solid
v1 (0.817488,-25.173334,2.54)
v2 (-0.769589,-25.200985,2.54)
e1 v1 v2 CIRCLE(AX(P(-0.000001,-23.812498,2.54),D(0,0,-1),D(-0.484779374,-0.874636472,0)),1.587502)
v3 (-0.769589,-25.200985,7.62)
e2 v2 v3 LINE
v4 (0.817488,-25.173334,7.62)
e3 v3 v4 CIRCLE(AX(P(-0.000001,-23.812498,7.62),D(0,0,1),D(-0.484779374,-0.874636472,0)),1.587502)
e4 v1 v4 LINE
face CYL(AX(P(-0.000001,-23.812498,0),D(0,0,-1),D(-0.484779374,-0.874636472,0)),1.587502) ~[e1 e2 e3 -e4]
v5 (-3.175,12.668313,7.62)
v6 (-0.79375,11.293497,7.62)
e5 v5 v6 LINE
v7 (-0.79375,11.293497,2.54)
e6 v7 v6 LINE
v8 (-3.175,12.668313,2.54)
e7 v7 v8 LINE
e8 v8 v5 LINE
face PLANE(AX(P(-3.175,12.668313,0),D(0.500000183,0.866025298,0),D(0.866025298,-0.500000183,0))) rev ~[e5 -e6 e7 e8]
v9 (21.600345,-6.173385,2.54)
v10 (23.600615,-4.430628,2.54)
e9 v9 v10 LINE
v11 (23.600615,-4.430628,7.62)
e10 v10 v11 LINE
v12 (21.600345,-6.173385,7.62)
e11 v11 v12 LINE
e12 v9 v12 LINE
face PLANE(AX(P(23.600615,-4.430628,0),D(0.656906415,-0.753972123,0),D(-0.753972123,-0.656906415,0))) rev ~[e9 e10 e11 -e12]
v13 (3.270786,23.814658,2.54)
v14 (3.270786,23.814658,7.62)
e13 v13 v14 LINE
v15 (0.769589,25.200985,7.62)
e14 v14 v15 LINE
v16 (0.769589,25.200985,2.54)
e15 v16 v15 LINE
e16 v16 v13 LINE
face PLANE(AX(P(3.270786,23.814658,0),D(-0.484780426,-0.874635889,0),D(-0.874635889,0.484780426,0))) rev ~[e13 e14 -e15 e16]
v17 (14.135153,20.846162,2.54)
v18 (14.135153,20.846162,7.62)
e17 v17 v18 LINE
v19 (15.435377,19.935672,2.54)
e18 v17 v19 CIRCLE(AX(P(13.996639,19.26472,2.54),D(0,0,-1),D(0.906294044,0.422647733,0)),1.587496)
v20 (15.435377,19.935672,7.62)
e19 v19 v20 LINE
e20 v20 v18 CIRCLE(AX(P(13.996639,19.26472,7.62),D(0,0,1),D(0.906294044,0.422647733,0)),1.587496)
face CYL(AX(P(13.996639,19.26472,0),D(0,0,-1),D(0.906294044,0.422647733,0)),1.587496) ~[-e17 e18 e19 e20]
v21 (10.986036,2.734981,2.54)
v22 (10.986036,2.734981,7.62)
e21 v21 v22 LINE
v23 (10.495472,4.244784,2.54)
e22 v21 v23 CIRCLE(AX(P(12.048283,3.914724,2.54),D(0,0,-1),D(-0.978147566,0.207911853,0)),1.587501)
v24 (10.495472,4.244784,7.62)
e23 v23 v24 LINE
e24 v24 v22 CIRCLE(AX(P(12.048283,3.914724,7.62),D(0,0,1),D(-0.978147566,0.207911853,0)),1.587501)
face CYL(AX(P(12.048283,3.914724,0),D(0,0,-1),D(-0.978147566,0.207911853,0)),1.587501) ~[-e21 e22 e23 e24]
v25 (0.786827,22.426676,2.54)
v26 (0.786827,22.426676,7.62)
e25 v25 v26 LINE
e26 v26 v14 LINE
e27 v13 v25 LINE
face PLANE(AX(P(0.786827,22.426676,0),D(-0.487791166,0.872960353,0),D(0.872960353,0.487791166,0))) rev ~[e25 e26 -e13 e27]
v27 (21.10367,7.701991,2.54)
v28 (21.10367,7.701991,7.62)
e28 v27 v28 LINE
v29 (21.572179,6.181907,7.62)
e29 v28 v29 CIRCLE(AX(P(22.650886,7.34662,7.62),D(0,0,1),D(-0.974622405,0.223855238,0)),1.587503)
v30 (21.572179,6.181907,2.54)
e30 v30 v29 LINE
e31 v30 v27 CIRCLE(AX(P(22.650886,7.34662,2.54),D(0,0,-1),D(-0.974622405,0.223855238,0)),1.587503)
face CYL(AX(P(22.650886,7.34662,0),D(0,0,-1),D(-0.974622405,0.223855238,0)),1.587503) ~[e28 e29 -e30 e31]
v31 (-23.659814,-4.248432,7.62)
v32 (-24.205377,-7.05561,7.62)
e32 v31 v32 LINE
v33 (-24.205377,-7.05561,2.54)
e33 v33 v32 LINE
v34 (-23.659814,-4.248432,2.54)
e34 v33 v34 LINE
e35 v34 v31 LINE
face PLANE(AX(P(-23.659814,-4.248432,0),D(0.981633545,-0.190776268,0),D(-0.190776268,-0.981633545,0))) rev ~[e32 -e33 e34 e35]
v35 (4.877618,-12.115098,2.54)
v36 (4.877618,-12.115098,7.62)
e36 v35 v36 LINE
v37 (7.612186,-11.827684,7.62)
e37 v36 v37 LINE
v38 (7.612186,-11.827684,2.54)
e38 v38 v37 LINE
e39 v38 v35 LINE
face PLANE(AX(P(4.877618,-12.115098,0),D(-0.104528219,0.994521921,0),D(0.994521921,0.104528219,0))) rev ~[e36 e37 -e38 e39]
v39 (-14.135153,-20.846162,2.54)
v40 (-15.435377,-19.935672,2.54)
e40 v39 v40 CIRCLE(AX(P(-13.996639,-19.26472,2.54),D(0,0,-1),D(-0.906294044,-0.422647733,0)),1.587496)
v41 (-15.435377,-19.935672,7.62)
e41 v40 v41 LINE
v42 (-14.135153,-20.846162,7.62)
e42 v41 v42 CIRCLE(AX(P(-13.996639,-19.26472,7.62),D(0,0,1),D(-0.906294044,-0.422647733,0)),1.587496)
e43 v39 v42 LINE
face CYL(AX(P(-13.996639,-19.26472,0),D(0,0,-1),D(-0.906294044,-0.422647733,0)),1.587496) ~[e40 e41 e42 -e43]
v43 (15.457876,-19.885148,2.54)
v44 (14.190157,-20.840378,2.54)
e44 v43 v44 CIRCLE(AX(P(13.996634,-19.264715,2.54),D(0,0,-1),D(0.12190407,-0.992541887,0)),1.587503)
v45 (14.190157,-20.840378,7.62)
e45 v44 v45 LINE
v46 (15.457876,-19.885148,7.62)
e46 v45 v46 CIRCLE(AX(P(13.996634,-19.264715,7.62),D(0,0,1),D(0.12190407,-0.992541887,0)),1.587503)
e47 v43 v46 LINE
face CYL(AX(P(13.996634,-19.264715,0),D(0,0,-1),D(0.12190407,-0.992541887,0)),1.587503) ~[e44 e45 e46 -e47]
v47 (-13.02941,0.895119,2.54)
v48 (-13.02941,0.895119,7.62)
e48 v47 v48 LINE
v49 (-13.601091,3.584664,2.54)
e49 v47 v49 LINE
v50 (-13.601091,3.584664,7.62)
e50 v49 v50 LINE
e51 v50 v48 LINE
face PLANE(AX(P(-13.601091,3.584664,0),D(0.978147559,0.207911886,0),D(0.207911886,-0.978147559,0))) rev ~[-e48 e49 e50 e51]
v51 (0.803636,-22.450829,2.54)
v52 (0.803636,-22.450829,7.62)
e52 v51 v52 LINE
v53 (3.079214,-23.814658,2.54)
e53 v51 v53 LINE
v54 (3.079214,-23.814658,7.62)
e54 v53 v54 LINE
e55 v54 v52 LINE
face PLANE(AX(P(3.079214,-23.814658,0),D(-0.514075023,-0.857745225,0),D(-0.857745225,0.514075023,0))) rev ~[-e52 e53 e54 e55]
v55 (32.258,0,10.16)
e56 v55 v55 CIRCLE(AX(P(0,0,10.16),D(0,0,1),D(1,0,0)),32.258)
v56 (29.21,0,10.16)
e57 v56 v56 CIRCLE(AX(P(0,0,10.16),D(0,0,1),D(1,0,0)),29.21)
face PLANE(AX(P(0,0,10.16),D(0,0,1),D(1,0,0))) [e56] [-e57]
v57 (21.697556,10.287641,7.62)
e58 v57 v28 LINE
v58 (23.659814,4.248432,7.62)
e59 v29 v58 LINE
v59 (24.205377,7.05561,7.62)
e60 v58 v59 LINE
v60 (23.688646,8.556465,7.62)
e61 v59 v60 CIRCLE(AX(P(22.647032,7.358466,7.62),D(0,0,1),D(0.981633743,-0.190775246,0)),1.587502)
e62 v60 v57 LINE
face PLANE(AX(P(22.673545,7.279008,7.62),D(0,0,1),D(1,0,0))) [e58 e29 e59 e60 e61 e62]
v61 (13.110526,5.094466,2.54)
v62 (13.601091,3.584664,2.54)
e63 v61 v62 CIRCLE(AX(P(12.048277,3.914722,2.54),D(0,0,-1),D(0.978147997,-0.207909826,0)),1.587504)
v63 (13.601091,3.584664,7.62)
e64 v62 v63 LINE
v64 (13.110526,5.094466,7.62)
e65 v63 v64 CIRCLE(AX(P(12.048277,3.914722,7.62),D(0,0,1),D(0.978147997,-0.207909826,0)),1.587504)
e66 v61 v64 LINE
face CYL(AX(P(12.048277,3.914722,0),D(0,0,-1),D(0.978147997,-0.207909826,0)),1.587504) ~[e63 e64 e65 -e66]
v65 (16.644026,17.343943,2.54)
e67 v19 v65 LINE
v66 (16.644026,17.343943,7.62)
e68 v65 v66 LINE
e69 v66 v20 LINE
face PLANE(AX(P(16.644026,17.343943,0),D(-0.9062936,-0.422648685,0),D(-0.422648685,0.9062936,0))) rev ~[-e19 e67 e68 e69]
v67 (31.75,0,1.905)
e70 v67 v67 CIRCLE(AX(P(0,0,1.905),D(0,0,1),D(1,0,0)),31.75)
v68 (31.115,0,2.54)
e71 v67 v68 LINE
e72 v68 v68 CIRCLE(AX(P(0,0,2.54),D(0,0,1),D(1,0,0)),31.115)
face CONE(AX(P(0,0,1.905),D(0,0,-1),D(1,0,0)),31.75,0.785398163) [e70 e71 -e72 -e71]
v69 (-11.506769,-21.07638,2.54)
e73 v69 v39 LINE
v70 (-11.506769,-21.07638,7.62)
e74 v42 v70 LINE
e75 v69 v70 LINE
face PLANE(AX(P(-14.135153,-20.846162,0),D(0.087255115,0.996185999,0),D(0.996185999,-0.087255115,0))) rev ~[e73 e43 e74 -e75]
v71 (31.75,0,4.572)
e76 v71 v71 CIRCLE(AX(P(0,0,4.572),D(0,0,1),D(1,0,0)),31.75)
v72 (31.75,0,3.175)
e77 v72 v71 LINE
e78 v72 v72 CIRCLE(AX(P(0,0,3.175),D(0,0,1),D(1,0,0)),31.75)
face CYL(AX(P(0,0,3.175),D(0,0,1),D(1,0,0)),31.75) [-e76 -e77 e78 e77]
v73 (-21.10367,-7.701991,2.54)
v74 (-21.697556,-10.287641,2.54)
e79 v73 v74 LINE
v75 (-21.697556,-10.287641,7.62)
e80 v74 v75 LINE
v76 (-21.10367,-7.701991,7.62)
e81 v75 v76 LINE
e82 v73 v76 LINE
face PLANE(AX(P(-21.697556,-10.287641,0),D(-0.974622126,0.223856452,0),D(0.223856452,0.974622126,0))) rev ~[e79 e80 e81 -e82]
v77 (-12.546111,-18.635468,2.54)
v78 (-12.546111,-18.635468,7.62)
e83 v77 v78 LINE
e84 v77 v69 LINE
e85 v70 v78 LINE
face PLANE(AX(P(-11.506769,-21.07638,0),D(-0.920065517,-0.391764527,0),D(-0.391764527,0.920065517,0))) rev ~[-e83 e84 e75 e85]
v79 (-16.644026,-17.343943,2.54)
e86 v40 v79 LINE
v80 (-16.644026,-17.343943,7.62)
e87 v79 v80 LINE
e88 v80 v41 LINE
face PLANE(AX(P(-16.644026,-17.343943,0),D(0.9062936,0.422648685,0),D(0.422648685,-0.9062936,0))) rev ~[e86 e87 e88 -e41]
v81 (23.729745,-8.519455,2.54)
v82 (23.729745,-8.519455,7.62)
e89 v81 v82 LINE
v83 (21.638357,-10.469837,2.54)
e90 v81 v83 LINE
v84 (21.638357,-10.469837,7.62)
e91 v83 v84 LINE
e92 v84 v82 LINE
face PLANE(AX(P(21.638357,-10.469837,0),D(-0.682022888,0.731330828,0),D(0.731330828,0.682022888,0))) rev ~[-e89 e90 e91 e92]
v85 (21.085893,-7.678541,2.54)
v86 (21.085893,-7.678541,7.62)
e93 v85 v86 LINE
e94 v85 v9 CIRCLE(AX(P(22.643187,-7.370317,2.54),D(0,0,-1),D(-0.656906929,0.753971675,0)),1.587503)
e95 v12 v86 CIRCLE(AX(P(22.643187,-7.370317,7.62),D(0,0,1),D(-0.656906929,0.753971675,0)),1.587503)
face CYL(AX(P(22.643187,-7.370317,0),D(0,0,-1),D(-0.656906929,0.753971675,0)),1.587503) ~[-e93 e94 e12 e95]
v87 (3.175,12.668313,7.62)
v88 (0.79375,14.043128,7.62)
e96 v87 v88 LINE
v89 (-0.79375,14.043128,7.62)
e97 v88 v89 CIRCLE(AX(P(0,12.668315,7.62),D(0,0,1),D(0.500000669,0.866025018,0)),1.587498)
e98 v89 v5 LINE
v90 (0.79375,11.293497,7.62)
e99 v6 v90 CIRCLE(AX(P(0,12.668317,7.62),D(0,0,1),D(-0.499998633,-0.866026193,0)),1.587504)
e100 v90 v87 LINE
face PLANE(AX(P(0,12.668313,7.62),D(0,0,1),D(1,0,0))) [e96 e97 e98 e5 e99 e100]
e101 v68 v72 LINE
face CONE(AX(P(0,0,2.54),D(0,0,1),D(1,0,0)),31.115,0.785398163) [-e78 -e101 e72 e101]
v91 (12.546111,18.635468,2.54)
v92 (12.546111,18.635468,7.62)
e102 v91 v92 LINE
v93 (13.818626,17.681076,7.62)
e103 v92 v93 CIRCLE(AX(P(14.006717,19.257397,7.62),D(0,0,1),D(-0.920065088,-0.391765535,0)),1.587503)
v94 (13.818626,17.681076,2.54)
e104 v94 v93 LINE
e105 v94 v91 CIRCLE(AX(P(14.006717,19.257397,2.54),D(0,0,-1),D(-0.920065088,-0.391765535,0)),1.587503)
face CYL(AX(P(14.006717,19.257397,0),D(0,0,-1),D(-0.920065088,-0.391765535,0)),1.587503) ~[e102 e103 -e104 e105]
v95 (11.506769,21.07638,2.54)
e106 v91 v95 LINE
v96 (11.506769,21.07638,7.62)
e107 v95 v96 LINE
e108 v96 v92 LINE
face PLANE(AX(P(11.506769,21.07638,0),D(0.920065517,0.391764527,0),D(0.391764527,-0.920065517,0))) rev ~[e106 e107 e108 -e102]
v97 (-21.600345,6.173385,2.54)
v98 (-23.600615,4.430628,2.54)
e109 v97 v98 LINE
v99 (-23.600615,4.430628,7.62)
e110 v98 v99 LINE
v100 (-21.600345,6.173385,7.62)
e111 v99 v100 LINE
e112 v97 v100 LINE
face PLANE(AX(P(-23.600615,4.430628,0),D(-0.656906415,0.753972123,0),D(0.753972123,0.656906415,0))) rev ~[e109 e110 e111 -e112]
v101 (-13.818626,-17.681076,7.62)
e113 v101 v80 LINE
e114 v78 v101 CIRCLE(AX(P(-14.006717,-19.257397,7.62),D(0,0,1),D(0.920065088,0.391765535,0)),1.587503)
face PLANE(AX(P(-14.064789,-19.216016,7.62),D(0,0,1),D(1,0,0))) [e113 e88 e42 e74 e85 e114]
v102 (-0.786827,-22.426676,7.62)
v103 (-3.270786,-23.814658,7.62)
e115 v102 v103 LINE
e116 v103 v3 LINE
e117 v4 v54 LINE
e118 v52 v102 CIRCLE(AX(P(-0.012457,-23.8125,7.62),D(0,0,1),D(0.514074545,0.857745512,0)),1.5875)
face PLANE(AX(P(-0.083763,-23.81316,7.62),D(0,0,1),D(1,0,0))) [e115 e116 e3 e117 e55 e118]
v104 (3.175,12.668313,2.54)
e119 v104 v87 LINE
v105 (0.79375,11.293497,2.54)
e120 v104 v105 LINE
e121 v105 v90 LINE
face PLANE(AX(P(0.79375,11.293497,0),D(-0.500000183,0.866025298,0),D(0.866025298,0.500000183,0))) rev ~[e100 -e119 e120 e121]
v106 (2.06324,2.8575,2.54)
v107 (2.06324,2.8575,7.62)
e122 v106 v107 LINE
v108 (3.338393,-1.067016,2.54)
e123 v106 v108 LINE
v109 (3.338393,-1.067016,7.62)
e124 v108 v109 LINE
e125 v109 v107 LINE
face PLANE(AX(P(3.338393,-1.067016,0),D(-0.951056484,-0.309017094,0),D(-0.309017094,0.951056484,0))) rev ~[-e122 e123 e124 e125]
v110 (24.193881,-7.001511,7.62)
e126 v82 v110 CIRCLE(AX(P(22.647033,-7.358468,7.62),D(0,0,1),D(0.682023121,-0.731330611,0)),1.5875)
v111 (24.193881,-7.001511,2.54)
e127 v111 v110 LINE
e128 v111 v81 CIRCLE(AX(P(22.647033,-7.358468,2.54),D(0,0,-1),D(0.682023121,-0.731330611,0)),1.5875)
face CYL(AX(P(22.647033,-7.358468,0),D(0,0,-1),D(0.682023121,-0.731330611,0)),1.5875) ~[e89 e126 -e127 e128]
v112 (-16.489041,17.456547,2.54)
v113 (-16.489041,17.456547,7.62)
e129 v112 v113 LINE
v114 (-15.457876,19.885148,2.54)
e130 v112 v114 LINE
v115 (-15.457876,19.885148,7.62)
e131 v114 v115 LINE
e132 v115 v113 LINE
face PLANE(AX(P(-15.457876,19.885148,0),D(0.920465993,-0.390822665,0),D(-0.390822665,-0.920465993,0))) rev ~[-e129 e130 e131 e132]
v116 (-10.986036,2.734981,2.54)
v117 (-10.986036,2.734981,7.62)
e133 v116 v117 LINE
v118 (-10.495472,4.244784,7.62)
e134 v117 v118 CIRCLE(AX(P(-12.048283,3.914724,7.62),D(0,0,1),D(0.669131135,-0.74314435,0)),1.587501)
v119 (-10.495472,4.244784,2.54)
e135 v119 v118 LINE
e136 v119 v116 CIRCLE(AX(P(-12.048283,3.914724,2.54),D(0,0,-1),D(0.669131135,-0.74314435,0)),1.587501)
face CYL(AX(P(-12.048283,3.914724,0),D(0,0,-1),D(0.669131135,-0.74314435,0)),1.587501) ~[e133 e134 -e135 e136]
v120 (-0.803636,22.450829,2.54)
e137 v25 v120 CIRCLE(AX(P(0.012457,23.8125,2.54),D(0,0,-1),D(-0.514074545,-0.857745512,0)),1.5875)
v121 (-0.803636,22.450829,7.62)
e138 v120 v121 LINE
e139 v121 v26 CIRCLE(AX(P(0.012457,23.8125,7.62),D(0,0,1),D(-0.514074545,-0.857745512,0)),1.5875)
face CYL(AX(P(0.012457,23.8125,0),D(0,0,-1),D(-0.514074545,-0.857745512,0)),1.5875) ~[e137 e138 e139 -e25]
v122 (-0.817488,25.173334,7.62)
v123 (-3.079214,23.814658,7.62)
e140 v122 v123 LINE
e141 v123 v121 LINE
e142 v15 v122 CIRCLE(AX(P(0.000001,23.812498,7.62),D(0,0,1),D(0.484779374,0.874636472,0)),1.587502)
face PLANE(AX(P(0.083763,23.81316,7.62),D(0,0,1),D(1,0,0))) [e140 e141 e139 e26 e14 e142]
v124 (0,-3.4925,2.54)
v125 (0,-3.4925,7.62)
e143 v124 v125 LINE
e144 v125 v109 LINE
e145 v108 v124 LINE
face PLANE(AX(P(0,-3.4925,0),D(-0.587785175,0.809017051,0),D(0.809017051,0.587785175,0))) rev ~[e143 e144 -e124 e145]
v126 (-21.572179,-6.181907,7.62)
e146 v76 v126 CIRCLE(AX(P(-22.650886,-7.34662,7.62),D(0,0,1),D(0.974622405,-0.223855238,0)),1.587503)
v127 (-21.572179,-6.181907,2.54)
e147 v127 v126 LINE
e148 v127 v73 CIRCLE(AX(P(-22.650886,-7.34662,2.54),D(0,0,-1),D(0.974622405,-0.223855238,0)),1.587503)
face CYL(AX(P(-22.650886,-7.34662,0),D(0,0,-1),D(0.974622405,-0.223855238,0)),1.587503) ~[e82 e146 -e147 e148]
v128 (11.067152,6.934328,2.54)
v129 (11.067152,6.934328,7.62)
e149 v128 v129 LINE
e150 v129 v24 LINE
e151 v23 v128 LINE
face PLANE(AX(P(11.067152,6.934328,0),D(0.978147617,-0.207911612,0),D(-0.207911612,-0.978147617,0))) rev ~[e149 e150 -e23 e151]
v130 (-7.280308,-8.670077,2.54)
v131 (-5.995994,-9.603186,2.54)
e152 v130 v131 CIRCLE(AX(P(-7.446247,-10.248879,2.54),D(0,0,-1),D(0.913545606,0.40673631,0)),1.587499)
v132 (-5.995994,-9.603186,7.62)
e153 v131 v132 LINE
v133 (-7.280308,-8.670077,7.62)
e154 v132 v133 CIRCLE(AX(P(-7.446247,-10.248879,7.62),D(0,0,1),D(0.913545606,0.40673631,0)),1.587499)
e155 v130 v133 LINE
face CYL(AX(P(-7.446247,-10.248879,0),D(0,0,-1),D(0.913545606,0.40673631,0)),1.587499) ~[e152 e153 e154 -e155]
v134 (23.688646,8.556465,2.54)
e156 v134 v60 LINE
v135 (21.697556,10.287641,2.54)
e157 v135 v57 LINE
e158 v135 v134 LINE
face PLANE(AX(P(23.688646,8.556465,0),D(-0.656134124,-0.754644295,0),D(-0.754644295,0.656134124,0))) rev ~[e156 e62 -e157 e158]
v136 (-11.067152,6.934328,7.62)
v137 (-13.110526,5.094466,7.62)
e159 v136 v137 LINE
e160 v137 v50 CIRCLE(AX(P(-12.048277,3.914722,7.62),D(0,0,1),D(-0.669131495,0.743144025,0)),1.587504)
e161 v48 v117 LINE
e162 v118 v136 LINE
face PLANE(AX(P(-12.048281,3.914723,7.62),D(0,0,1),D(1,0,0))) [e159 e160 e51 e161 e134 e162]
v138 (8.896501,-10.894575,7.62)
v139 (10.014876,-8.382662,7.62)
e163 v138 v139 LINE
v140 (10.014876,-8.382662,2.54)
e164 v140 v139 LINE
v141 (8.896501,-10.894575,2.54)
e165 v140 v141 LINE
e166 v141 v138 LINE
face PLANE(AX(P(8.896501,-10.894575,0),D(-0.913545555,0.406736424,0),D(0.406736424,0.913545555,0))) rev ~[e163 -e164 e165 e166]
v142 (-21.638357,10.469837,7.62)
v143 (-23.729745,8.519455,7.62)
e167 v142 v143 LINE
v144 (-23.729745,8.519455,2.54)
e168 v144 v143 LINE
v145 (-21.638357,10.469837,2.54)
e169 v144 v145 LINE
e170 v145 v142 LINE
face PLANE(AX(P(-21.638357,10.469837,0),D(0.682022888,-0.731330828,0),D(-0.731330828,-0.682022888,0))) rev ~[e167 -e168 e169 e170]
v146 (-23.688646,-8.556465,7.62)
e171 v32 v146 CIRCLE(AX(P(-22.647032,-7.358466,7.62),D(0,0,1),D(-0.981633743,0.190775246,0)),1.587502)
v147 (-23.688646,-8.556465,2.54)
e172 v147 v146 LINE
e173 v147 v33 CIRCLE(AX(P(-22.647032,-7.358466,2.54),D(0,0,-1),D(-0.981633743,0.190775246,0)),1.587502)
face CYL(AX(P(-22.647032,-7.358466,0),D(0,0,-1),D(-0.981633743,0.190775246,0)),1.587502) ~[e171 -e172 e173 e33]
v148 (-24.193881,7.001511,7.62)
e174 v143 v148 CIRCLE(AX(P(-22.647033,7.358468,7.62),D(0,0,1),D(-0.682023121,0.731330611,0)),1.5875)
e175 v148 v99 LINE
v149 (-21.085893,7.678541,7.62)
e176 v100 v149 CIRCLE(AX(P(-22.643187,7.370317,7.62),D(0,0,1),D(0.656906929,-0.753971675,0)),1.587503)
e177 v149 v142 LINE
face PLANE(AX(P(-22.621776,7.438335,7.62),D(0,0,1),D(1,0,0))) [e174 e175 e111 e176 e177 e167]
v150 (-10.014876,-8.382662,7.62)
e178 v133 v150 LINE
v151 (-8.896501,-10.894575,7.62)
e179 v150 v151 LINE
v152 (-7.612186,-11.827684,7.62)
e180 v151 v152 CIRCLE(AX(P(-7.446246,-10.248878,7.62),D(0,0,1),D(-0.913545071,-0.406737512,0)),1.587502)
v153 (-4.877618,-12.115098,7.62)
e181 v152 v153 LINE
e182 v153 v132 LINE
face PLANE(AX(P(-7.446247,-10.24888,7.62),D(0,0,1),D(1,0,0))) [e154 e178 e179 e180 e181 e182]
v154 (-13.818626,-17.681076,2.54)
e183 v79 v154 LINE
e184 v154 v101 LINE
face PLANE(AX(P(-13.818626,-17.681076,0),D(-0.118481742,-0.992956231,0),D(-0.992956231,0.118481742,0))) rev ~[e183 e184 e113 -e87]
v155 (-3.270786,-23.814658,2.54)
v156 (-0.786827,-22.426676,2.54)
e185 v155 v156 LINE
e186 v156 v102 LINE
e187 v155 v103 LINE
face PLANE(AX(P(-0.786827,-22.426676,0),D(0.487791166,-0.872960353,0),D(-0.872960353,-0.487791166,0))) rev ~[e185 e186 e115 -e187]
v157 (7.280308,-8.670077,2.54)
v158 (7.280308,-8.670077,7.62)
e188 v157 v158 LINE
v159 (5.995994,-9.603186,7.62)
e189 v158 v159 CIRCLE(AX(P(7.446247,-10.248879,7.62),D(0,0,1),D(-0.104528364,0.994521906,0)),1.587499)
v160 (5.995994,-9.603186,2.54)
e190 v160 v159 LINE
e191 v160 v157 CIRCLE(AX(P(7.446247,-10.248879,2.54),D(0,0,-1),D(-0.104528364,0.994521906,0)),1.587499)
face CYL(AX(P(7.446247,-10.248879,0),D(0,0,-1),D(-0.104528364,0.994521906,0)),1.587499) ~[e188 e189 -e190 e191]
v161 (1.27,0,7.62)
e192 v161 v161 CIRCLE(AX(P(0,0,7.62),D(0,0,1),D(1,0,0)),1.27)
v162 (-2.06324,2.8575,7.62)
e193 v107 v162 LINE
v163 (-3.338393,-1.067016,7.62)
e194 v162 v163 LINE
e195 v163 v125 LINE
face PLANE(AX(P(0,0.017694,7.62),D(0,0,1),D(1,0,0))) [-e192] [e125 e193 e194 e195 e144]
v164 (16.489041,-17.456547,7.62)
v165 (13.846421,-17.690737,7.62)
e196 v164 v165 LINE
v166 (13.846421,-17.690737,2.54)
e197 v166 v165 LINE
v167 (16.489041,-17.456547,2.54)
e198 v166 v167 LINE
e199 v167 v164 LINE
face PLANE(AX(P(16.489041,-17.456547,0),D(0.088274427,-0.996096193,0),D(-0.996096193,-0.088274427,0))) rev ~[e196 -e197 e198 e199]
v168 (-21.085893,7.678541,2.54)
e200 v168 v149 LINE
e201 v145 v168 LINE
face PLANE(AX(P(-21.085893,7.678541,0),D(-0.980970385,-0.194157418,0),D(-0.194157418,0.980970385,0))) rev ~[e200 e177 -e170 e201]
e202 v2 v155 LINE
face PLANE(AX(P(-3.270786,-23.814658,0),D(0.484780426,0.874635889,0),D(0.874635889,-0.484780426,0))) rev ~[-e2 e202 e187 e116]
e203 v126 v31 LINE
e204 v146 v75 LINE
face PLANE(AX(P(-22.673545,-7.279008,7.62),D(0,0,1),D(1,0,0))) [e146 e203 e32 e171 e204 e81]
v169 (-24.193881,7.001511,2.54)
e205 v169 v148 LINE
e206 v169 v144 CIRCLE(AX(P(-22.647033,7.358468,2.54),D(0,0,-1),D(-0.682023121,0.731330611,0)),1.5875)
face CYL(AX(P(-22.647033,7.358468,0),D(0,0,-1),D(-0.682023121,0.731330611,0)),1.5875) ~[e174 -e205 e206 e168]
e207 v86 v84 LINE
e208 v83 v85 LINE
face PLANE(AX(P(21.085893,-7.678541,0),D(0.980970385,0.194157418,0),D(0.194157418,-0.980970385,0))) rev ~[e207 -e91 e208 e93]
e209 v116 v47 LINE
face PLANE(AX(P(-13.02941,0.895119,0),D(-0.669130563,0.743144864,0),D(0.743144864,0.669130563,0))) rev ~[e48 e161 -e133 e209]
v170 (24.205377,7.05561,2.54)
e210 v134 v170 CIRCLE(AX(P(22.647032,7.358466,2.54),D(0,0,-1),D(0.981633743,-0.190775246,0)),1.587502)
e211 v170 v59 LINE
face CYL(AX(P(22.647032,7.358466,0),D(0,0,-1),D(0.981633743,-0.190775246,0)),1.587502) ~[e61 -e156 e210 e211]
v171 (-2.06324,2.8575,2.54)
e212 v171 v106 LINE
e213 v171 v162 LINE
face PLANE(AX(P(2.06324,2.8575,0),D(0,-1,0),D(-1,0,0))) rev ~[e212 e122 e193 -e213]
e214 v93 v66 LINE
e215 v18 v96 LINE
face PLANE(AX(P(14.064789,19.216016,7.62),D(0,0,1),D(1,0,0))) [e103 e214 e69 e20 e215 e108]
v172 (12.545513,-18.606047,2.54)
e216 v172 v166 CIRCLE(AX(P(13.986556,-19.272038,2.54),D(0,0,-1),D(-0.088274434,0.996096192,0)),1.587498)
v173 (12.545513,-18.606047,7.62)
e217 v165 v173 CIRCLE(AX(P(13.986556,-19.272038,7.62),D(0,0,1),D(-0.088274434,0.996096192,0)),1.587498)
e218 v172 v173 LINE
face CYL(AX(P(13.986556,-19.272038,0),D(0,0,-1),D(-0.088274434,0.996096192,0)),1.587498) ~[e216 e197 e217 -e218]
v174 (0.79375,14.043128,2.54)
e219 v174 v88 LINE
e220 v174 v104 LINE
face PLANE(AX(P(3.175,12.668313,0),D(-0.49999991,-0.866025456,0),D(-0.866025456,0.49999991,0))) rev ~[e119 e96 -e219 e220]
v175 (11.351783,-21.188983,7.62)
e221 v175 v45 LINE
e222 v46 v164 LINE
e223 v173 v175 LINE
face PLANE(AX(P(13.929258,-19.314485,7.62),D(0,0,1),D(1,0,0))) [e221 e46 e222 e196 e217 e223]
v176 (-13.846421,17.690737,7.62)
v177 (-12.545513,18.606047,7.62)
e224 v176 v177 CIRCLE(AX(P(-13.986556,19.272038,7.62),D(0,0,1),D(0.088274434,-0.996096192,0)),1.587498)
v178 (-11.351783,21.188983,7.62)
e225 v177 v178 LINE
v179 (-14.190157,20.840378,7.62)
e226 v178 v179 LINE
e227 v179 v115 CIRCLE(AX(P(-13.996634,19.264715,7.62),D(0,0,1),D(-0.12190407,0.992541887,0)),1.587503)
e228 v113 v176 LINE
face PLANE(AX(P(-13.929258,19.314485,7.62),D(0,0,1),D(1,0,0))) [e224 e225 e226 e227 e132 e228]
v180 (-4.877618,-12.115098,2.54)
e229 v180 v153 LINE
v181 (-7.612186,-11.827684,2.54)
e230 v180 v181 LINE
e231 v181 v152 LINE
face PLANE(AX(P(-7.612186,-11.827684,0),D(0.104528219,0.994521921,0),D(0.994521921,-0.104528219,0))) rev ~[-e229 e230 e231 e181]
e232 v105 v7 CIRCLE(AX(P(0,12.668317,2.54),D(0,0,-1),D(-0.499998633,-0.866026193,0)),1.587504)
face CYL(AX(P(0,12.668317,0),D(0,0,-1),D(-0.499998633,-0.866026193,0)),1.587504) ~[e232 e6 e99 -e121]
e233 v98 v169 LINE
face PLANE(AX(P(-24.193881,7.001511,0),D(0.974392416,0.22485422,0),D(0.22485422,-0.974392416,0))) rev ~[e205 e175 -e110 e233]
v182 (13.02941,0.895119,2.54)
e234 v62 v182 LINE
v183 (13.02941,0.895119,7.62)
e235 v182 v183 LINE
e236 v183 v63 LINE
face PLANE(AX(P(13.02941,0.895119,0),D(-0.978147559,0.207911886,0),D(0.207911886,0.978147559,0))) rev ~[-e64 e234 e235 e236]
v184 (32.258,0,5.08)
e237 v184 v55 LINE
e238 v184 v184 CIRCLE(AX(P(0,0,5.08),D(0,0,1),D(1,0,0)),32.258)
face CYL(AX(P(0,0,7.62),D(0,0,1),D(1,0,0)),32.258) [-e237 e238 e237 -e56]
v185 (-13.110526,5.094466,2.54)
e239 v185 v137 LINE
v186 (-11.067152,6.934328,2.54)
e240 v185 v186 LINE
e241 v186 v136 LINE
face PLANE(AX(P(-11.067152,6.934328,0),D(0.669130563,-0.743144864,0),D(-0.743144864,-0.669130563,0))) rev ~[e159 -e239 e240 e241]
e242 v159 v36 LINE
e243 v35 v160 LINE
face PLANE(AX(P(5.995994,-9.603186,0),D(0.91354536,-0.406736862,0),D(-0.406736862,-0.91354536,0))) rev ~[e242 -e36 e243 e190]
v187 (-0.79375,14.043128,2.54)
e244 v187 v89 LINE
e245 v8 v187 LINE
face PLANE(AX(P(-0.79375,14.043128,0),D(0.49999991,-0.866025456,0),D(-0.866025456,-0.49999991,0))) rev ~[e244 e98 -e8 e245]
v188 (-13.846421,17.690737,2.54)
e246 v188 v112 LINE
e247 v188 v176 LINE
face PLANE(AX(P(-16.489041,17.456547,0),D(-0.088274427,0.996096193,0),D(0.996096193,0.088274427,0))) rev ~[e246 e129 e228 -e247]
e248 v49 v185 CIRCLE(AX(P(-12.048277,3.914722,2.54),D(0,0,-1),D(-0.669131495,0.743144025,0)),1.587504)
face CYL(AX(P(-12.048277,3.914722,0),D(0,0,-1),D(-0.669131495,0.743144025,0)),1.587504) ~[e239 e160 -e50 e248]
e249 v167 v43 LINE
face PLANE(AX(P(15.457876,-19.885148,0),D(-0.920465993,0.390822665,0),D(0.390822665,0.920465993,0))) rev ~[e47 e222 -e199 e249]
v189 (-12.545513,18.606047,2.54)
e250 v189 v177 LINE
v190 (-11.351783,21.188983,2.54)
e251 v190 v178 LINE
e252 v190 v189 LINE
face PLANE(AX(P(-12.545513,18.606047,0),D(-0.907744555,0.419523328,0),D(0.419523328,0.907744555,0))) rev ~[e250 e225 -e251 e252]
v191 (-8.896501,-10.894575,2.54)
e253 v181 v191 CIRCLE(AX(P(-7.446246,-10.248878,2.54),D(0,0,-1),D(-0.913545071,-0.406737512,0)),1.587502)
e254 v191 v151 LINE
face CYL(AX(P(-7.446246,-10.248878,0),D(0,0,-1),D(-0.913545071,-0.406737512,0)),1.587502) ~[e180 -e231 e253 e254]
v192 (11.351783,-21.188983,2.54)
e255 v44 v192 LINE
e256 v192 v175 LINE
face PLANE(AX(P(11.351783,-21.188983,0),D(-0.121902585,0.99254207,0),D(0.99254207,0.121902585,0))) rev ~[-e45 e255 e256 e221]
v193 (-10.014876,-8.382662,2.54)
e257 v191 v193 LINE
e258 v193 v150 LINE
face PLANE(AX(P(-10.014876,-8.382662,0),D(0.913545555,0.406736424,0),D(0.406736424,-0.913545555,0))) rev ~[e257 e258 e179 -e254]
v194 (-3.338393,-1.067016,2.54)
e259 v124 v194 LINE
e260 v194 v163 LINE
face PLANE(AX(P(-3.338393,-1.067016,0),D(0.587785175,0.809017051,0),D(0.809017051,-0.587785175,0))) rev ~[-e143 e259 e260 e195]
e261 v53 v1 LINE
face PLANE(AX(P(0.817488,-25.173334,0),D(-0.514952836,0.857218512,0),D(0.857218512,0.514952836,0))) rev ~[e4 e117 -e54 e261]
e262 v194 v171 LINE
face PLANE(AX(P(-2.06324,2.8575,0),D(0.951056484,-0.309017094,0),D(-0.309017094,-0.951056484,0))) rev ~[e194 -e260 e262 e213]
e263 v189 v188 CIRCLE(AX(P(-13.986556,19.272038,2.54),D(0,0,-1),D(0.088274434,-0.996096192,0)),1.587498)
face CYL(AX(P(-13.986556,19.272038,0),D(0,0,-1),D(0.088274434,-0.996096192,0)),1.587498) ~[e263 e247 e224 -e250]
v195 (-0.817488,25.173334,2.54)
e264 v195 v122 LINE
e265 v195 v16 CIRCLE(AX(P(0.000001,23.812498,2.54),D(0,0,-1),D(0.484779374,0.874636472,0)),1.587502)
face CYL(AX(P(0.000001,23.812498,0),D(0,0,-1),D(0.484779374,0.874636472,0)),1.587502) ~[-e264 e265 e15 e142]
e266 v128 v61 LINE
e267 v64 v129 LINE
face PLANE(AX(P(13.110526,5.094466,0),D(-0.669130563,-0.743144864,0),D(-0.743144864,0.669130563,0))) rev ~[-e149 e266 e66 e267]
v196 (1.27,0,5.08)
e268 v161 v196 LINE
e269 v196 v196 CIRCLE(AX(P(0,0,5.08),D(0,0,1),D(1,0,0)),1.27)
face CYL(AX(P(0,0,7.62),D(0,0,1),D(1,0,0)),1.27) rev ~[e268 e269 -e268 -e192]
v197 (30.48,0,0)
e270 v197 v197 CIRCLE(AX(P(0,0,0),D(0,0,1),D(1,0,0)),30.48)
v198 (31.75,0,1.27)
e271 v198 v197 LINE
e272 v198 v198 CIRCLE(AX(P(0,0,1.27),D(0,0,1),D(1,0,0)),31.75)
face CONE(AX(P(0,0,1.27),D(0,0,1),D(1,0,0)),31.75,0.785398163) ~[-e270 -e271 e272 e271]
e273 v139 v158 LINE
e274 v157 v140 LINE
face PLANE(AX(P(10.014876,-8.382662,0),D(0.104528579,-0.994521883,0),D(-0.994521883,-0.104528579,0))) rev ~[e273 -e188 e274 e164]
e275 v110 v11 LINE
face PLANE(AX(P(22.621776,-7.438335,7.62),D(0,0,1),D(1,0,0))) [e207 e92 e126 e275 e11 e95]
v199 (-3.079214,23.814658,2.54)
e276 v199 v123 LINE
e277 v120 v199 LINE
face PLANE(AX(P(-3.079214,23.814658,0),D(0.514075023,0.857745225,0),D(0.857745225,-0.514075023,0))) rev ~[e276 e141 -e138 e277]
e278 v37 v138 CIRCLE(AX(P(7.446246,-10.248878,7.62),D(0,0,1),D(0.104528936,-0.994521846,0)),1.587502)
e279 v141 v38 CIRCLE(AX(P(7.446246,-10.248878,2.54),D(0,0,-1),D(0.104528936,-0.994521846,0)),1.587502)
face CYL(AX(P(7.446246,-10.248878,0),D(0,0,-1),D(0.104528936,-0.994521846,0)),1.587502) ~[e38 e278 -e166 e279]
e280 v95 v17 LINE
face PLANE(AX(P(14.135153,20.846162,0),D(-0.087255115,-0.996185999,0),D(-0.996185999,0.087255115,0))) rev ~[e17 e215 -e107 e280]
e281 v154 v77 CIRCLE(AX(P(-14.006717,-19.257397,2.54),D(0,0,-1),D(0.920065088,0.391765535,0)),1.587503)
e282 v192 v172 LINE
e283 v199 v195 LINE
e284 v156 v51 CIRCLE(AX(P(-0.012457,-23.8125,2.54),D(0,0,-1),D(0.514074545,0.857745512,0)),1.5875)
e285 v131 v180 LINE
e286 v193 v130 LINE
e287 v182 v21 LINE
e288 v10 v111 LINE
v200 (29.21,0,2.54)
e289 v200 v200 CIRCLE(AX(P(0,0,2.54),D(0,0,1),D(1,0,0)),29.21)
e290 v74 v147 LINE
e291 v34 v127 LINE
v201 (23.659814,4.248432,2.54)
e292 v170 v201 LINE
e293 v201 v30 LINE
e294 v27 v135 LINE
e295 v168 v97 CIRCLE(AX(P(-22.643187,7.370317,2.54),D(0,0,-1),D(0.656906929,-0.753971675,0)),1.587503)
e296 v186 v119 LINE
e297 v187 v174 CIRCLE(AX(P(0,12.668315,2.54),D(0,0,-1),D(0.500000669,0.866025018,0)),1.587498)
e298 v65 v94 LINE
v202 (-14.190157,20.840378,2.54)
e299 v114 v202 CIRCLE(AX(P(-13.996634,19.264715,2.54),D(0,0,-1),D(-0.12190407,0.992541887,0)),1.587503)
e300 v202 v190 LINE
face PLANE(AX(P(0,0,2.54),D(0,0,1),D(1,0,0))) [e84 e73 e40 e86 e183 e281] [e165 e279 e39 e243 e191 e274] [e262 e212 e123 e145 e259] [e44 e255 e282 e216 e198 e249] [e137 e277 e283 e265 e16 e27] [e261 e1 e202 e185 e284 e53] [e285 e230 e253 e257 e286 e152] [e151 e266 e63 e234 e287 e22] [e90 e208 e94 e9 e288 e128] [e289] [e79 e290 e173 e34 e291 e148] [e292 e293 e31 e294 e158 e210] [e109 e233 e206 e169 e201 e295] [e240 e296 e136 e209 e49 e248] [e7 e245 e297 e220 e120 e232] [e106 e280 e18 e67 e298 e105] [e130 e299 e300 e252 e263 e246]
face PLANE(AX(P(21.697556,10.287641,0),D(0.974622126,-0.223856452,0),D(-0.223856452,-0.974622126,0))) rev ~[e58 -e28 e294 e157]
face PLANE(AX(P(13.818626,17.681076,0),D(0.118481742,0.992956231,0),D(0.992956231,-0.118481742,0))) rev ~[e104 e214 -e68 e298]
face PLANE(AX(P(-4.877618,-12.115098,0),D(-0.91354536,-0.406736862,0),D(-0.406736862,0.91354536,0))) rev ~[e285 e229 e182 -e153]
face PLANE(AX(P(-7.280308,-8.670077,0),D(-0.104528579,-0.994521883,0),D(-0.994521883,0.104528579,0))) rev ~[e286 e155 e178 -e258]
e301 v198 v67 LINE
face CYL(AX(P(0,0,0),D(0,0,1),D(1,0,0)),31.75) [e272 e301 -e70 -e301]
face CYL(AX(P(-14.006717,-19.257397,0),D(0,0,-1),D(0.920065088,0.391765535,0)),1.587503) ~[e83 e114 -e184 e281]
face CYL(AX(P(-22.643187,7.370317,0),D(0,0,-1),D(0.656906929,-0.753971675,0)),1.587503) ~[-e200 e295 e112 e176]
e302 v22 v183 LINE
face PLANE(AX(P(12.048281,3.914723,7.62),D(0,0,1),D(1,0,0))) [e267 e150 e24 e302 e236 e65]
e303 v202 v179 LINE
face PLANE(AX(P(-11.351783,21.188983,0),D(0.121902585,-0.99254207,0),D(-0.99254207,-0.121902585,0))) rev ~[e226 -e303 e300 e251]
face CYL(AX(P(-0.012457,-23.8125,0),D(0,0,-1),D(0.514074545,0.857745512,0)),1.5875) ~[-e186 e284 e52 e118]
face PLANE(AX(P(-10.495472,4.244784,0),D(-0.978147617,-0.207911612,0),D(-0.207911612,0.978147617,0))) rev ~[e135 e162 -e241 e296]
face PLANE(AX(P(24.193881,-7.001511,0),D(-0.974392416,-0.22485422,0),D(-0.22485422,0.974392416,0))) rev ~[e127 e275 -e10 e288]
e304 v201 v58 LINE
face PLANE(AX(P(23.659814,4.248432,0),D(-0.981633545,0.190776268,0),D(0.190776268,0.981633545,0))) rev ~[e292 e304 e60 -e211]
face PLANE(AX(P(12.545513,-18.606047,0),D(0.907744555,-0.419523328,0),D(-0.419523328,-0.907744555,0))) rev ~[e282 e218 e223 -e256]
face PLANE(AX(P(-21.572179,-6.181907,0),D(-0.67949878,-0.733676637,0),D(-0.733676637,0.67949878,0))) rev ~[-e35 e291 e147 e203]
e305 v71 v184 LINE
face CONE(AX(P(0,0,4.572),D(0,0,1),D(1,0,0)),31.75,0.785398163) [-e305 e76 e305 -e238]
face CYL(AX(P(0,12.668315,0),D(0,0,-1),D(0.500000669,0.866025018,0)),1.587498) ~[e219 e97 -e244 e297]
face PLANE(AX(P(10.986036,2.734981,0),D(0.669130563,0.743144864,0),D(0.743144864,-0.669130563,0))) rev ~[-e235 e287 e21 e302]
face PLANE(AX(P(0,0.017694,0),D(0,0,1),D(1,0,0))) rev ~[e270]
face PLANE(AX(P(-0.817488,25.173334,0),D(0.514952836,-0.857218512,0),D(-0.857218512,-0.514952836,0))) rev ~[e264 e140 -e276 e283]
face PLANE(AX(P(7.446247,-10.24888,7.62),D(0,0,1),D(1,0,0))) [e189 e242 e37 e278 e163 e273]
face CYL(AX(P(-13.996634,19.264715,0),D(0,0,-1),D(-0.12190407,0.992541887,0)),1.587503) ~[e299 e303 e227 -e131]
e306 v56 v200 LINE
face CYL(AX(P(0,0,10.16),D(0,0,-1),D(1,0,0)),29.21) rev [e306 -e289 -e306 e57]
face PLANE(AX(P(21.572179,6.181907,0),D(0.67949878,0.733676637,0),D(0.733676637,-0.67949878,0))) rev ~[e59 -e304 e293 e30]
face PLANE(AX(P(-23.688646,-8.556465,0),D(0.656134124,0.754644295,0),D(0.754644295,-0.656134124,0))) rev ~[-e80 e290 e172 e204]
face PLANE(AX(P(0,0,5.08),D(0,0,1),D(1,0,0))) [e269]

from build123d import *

# Parameters (mm, degrees)
F0_W     = 0.508
F0_H     = 5.08
F3_DEPTH = 7.62
F4_DEPTH = 7.62
F5_SIZE2 = 1.27
F5_SIZE  = 1.27
F6_R     = 1.27
F7_DEPTH = 2.54


with BuildPart() as f1:
    # F0 (on Front) → F1 (revolve)
    with BuildSketch(Plane.XZ):
        Polygon((0, 2.54), (0, 0), (31.75, 0), (31.75, 1.905), (31.115, 2.54), (31.75, 3.175), (31.75, 4.572), (31.75, 5.08), (31.75, 10.16), (29.21, 10.16), (29.21, 2.54), align=None)
        with Locations((32.004, 7.62)):
            Rectangle(F0_W, F0_H)
        Polygon((31.75, 5.08), (31.75, 4.572), (32.258, 5.08), align=None)
    revolve(axis=Axis((0, 0, 16.058525), (0, 0, 1)))

    # F2 (on Top) → F3 (join)
    with BuildSketch(Plane.XY):
        Polygon((2.06324, 2.8575), (-2.06324, 2.8575), (-3.338393, -1.067016), (0, -3.4925), (3.338393, -1.067016), align=None)
        with BuildLine():
            ThreePointArc((0.769589, 25.200985), (-0.027653, 25.399759), (-0.817488, 25.173334))
            Line((-0.817488, 25.173334), (-3.079214, 23.814658))
            Line((-3.079214, 23.814658), (-0.803636, 22.450829))
            ThreePointArc((-0.803636, 22.450829), (-0.011648, 22.225183), (0.786827, 22.426676))
            Line((0.786827, 22.426676), (3.270786, 23.814658))
            Line((3.270786, 23.814658), (0.769589, 25.200985))
        make_face()
        with BuildLine():
            Line((-12.545513, 18.606047), (-11.351783, 21.188983))
            Line((-11.351783, 21.188983), (-14.190157, 20.840378))
            ThreePointArc((-14.190157, 20.840378), (-14.951976, 20.532582), (-15.457876, 19.885148))
            Line((-15.457876, 19.885148), (-16.489041, 17.456547))
            Line((-16.489041, 17.456547), (-13.846421, 17.690737))
            ThreePointArc((-13.846421, 17.690737), (-13.073058, 17.973704), (-12.545513, 18.606047))
        make_face()
        with BuildLine():
            Line((-21.085893, 7.678541), (-21.638357, 10.469837))
            Line((-21.638357, 10.469837), (-23.729745, 8.519455))
            ThreePointArc((-23.729745, 8.519455), (-24.165152, 7.822657), (-24.193881, 7.001511))
            Line((-24.193881, 7.001511), (-23.600615, 4.430628))
            Line((-23.600615, 4.430628), (-21.600345, 6.173385))
            ThreePointArc((-21.600345, 6.173385), (-21.141005, 6.856882), (-21.085893, 7.678541))
        make_face()
        with BuildLine():
            Line((-21.572179, -6.181907), (-23.659814, -4.248432))
            Line((-23.659814, -4.248432), (-24.205377, -7.05561))
            ThreePointArc((-24.205377, -7.05561), (-24.148061, -7.875257), (-23.688646, -8.556465))
            Line((-23.688646, -8.556465), (-21.697556, -10.287641))
            Line((-21.697556, -10.287641), (-21.10367, -7.701991))
            ThreePointArc((-21.10367, -7.701991), (-21.133806, -6.879037), (-21.572179, -6.181907))
        make_face()
        with BuildLine():
            Line((-13.818626, -17.681076), (-16.644026, -17.343943))
            Line((-16.644026, -17.343943), (-15.435377, -19.935672))
            ThreePointArc((-15.435377, -19.935672), (-14.907232, -20.565091), (-14.135153, -20.846162))
            Line((-14.135153, -20.846162), (-11.506769, -21.07638))
            Line((-11.506769, -21.07638), (-12.546111, -18.635468))
            ThreePointArc((-12.546111, -18.635468), (-13.054212, -17.987397), (-13.818626, -17.681076))
        make_face()
        with BuildLine():
            Line((-0.786827, -22.426676), (-3.270786, -23.814658))
            Line((-3.270786, -23.814658), (-0.769589, -25.200985))
            ThreePointArc((-0.769589, -25.200985), (0.027653, -25.399759), (0.817488, -25.173334))
            Line((0.817488, -25.173334), (3.079214, -23.814658))
            Line((3.079214, -23.814658), (0.803636, -22.450829))
            ThreePointArc((0.803636, -22.450829), (0.011648, -22.225183), (-0.786827, -22.426676))
        make_face()
        with BuildLine():
            Line((12.545513, -18.606047), (11.351783, -21.188983))
            Line((11.351783, -21.188983), (14.190157, -20.840378))
            ThreePointArc((14.190157, -20.840378), (14.951976, -20.532582), (15.457876, -19.885148))
            Line((15.457876, -19.885148), (16.489041, -17.456547))
            Line((16.489041, -17.456547), (13.846421, -17.690737))
            ThreePointArc((13.846421, -17.690737), (13.073058, -17.973704), (12.545513, -18.606047))
        make_face()
        with BuildLine():
            Line((21.085893, -7.678541), (21.638357, -10.469837))
            Line((21.638357, -10.469837), (23.729745, -8.519455))
            ThreePointArc((23.729745, -8.519455), (24.165152, -7.822657), (24.193881, -7.001511))
            Line((24.193881, -7.001511), (23.600615, -4.430628))
            Line((23.600615, -4.430628), (21.600345, -6.173385))
            ThreePointArc((21.600345, -6.173385), (21.141005, -6.856882), (21.085893, -7.678541))
        make_face()
        with BuildLine():
            Line((21.572179, 6.181907), (23.659814, 4.248432))
            Line((23.659814, 4.248432), (24.205377, 7.05561))
            ThreePointArc((24.205377, 7.05561), (24.148061, 7.875257), (23.688646, 8.556465))
            Line((23.688646, 8.556465), (21.697556, 10.287641))
            Line((21.697556, 10.287641), (21.10367, 7.701991))
            ThreePointArc((21.10367, 7.701991), (21.133806, 6.879037), (21.572179, 6.181907))
        make_face()
        with BuildLine():
            Line((13.818626, 17.681076), (16.644026, 17.343943))
            Line((16.644026, 17.343943), (15.435377, 19.935672))
            ThreePointArc((15.435377, 19.935672), (14.907232, 20.565091), (14.135153, 20.846162))
            Line((14.135153, 20.846162), (11.506769, 21.07638))
            Line((11.506769, 21.07638), (12.546111, 18.635468))
            ThreePointArc((12.546111, 18.635468), (13.054212, 17.987397), (13.818626, 17.681076))
        make_face()
        with BuildLine():
            Line((-0.79375, 14.043128), (-3.175, 12.668313))
            Line((-3.175, 12.668313), (-0.79375, 11.293497))
            ThreePointArc((-0.79375, 11.293497), (0, 11.080813), (0.79375, 11.293497))
            Line((0.79375, 11.293497), (3.175, 12.668313))
            Line((3.175, 12.668313), (0.79375, 14.043128))
            ThreePointArc((0.79375, 14.043128), (0, 14.255813), (-0.79375, 14.043128))
        make_face()
        with BuildLine():
            Line((-10.495472, 4.244784), (-11.067152, 6.934328))
            Line((-11.067152, 6.934328), (-13.110526, 5.094466))
            ThreePointArc((-13.110526, 5.094466), (-13.558083, 4.405288), (-13.601091, 3.584664))
            Line((-13.601091, 3.584664), (-13.02941, 0.895119))
            Line((-13.02941, 0.895119), (-10.986036, 2.734981))
            ThreePointArc((-10.986036, 2.734981), (-10.538479, 3.424159), (-10.495472, 4.244784))
        make_face()
        with BuildLine():
            Line((-7.280308, -8.670077), (-10.014876, -8.382662))
            Line((-10.014876, -8.382662), (-8.896501, -10.894575))
            ThreePointArc((-8.896501, -10.894575), (-8.379356, -11.533195), (-7.612186, -11.827684))
            Line((-7.612186, -11.827684), (-4.877618, -12.115098))
            Line((-4.877618, -12.115098), (-5.995994, -9.603186))
            ThreePointArc((-5.995994, -9.603186), (-6.513138, -8.964566), (-7.280308, -8.670077))
        make_face()
        with BuildLine():
            Line((5.995994, -9.603186), (4.877618, -12.115098))
            Line((4.877618, -12.115098), (7.612186, -11.827684))
            ThreePointArc((7.612186, -11.827684), (8.379356, -11.533195), (8.896501, -10.894575))
            Line((8.896501, -10.894575), (10.014876, -8.382662))
            Line((10.014876, -8.382662), (7.280308, -8.670077))
            ThreePointArc((7.280308, -8.670077), (6.513138, -8.964566), (5.995994, -9.603186))
        make_face()
        with BuildLine():
            Line((10.986036, 2.734981), (13.02941, 0.895119))
            Line((13.02941, 0.895119), (13.601091, 3.584664))
            ThreePointArc((13.601091, 3.584664), (13.558083, 4.405288), (13.110526, 5.094466))
            Line((13.110526, 5.094466), (11.067152, 6.934328))
            Line((11.067152, 6.934328), (10.495472, 4.244784))
            ThreePointArc((10.495472, 4.244784), (10.538479, 3.424159), (10.986036, 2.734981))
        make_face()
    extrude(amount=F3_DEPTH)

    # F2 (on Top) → F4 (join)
    with BuildSketch(Plane.XY):
        Polygon((2.06324, 2.8575), (-2.06324, 2.8575), (-3.338393, -1.067016), (0, -3.4925), (3.338393, -1.067016), align=None)
        with BuildLine():
            ThreePointArc((0.769589, 25.200985), (-0.027653, 25.399759), (-0.817488, 25.173334))
            Line((-0.817488, 25.173334), (-3.079214, 23.814658))
            Line((-3.079214, 23.814658), (-0.803636, 22.450829))
            ThreePointArc((-0.803636, 22.450829), (-0.011648, 22.225183), (0.786827, 22.426676))
            Line((0.786827, 22.426676), (3.270786, 23.814658))
            Line((3.270786, 23.814658), (0.769589, 25.200985))
        make_face()
        with BuildLine():
            Line((-12.545513, 18.606047), (-11.351783, 21.188983))
            Line((-11.351783, 21.188983), (-14.190157, 20.840378))
            ThreePointArc((-14.190157, 20.840378), (-14.951976, 20.532582), (-15.457876, 19.885148))
            Line((-15.457876, 19.885148), (-16.489041, 17.456547))
            Line((-16.489041, 17.456547), (-13.846421, 17.690737))
            ThreePointArc((-13.846421, 17.690737), (-13.073058, 17.973704), (-12.545513, 18.606047))
        make_face()
        with BuildLine():
            Line((-21.085893, 7.678541), (-21.638357, 10.469837))
            Line((-21.638357, 10.469837), (-23.729745, 8.519455))
            ThreePointArc((-23.729745, 8.519455), (-24.165152, 7.822657), (-24.193881, 7.001511))
            Line((-24.193881, 7.001511), (-23.600615, 4.430628))
            Line((-23.600615, 4.430628), (-21.600345, 6.173385))
            ThreePointArc((-21.600345, 6.173385), (-21.141005, 6.856882), (-21.085893, 7.678541))
        make_face()
        with BuildLine():
            Line((-21.572179, -6.181907), (-23.659814, -4.248432))
            Line((-23.659814, -4.248432), (-24.205377, -7.05561))
            ThreePointArc((-24.205377, -7.05561), (-24.148061, -7.875257), (-23.688646, -8.556465))
            Line((-23.688646, -8.556465), (-21.697556, -10.287641))
            Line((-21.697556, -10.287641), (-21.10367, -7.701991))
            ThreePointArc((-21.10367, -7.701991), (-21.133806, -6.879037), (-21.572179, -6.181907))
        make_face()
        with BuildLine():
            Line((-13.818626, -17.681076), (-16.644026, -17.343943))
            Line((-16.644026, -17.343943), (-15.435377, -19.935672))
            ThreePointArc((-15.435377, -19.935672), (-14.907232, -20.565091), (-14.135153, -20.846162))
            Line((-14.135153, -20.846162), (-11.506769, -21.07638))
            Line((-11.506769, -21.07638), (-12.546111, -18.635468))
            ThreePointArc((-12.546111, -18.635468), (-13.054212, -17.987397), (-13.818626, -17.681076))
        make_face()
        with BuildLine():
            Line((-0.786827, -22.426676), (-3.270786, -23.814658))
            Line((-3.270786, -23.814658), (-0.769589, -25.200985))
            ThreePointArc((-0.769589, -25.200985), (0.027653, -25.399759), (0.817488, -25.173334))
            Line((0.817488, -25.173334), (3.079214, -23.814658))
            Line((3.079214, -23.814658), (0.803636, -22.450829))
            ThreePointArc((0.803636, -22.450829), (0.011648, -22.225183), (-0.786827, -22.426676))
        make_face()
        with BuildLine():
            Line((12.545513, -18.606047), (11.351783, -21.188983))
            Line((11.351783, -21.188983), (14.190157, -20.840378))
            ThreePointArc((14.190157, -20.840378), (14.951976, -20.532582), (15.457876, -19.885148))
            Line((15.457876, -19.885148), (16.489041, -17.456547))
            Line((16.489041, -17.456547), (13.846421, -17.690737))
            ThreePointArc((13.846421, -17.690737), (13.073058, -17.973704), (12.545513, -18.606047))
        make_face()
        with BuildLine():
            Line((21.085893, -7.678541), (21.638357, -10.469837))
            Line((21.638357, -10.469837), (23.729745, -8.519455))
            ThreePointArc((23.729745, -8.519455), (24.165152, -7.822657), (24.193881, -7.001511))
            Line((24.193881, -7.001511), (23.600615, -4.430628))
            Line((23.600615, -4.430628), (21.600345, -6.173385))
            ThreePointArc((21.600345, -6.173385), (21.141005, -6.856882), (21.085893, -7.678541))
        make_face()
        with BuildLine():
            Line((21.572179, 6.181907), (23.659814, 4.248432))
            Line((23.659814, 4.248432), (24.205377, 7.05561))
            ThreePointArc((24.205377, 7.05561), (24.148061, 7.875257), (23.688646, 8.556465))
            Line((23.688646, 8.556465), (21.697556, 10.287641))
            Line((21.697556, 10.287641), (21.10367, 7.701991))
            ThreePointArc((21.10367, 7.701991), (21.133806, 6.879037), (21.572179, 6.181907))
        make_face()
        with BuildLine():
            Line((13.818626, 17.681076), (16.644026, 17.343943))
            Line((16.644026, 17.343943), (15.435377, 19.935672))
            ThreePointArc((15.435377, 19.935672), (14.907232, 20.565091), (14.135153, 20.846162))
            Line((14.135153, 20.846162), (11.506769, 21.07638))
            Line((11.506769, 21.07638), (12.546111, 18.635468))
            ThreePointArc((12.546111, 18.635468), (13.054212, 17.987397), (13.818626, 17.681076))
        make_face()
        with BuildLine():
            Line((-0.79375, 14.043128), (-3.175, 12.668313))
            Line((-3.175, 12.668313), (-0.79375, 11.293497))
            ThreePointArc((-0.79375, 11.293497), (0, 11.080813), (0.79375, 11.293497))
            Line((0.79375, 11.293497), (3.175, 12.668313))
            Line((3.175, 12.668313), (0.79375, 14.043128))
            ThreePointArc((0.79375, 14.043128), (0, 14.255813), (-0.79375, 14.043128))
        make_face()
        with BuildLine():
            Line((-10.495472, 4.244784), (-11.067152, 6.934328))
            Line((-11.067152, 6.934328), (-13.110526, 5.094466))
            ThreePointArc((-13.110526, 5.094466), (-13.558083, 4.405288), (-13.601091, 3.584664))
            Line((-13.601091, 3.584664), (-13.02941, 0.895119))
            Line((-13.02941, 0.895119), (-10.986036, 2.734981))
            ThreePointArc((-10.986036, 2.734981), (-10.538479, 3.424159), (-10.495472, 4.244784))
        make_face()
        with BuildLine():
            Line((-7.280308, -8.670077), (-10.014876, -8.382662))
            Line((-10.014876, -8.382662), (-8.896501, -10.894575))
            ThreePointArc((-8.896501, -10.894575), (-8.379356, -11.533195), (-7.612186, -11.827684))
            Line((-7.612186, -11.827684), (-4.877618, -12.115098))
            Line((-4.877618, -12.115098), (-5.995994, -9.603186))
            ThreePointArc((-5.995994, -9.603186), (-6.513138, -8.964566), (-7.280308, -8.670077))
        make_face()
        with BuildLine():
            Line((5.995994, -9.603186), (4.877618, -12.115098))
            Line((4.877618, -12.115098), (7.612186, -11.827684))
            ThreePointArc((7.612186, -11.827684), (8.379356, -11.533195), (8.896501, -10.894575))
            Line((8.896501, -10.894575), (10.014876, -8.382662))
            Line((10.014876, -8.382662), (7.280308, -8.670077))
            ThreePointArc((7.280308, -8.670077), (6.513138, -8.964566), (5.995994, -9.603186))
        make_face()
        with BuildLine():
            Line((10.986036, 2.734981), (13.02941, 0.895119))
            Line((13.02941, 0.895119), (13.601091, 3.584664))
            ThreePointArc((13.601091, 3.584664), (13.558083, 4.405288), (13.110526, 5.094466))
            Line((13.110526, 5.094466), (11.067152, 6.934328))
            Line((11.067152, 6.934328), (10.495472, 4.244784))
            ThreePointArc((10.495472, 4.244784), (10.538479, 3.424159), (10.986036, 2.734981))
        make_face()
    extrude(amount=F4_DEPTH)

    # F5
    f5_edges = [f1.edges().sort_by_distance(p)[0] for p in [
        (-31.75, 0, 0),
    ]]
    chamfer(f5_edges, length=F5_SIZE, length2=F5_SIZE2)

    # F6 (on face) → F7 (cut)
    with BuildSketch(Plane.XY.offset(7.62)):
        Circle(F6_R)
    extrude(amount=-F7_DEPTH, mode=Mode.SUBTRACT)


solid = f1.part
